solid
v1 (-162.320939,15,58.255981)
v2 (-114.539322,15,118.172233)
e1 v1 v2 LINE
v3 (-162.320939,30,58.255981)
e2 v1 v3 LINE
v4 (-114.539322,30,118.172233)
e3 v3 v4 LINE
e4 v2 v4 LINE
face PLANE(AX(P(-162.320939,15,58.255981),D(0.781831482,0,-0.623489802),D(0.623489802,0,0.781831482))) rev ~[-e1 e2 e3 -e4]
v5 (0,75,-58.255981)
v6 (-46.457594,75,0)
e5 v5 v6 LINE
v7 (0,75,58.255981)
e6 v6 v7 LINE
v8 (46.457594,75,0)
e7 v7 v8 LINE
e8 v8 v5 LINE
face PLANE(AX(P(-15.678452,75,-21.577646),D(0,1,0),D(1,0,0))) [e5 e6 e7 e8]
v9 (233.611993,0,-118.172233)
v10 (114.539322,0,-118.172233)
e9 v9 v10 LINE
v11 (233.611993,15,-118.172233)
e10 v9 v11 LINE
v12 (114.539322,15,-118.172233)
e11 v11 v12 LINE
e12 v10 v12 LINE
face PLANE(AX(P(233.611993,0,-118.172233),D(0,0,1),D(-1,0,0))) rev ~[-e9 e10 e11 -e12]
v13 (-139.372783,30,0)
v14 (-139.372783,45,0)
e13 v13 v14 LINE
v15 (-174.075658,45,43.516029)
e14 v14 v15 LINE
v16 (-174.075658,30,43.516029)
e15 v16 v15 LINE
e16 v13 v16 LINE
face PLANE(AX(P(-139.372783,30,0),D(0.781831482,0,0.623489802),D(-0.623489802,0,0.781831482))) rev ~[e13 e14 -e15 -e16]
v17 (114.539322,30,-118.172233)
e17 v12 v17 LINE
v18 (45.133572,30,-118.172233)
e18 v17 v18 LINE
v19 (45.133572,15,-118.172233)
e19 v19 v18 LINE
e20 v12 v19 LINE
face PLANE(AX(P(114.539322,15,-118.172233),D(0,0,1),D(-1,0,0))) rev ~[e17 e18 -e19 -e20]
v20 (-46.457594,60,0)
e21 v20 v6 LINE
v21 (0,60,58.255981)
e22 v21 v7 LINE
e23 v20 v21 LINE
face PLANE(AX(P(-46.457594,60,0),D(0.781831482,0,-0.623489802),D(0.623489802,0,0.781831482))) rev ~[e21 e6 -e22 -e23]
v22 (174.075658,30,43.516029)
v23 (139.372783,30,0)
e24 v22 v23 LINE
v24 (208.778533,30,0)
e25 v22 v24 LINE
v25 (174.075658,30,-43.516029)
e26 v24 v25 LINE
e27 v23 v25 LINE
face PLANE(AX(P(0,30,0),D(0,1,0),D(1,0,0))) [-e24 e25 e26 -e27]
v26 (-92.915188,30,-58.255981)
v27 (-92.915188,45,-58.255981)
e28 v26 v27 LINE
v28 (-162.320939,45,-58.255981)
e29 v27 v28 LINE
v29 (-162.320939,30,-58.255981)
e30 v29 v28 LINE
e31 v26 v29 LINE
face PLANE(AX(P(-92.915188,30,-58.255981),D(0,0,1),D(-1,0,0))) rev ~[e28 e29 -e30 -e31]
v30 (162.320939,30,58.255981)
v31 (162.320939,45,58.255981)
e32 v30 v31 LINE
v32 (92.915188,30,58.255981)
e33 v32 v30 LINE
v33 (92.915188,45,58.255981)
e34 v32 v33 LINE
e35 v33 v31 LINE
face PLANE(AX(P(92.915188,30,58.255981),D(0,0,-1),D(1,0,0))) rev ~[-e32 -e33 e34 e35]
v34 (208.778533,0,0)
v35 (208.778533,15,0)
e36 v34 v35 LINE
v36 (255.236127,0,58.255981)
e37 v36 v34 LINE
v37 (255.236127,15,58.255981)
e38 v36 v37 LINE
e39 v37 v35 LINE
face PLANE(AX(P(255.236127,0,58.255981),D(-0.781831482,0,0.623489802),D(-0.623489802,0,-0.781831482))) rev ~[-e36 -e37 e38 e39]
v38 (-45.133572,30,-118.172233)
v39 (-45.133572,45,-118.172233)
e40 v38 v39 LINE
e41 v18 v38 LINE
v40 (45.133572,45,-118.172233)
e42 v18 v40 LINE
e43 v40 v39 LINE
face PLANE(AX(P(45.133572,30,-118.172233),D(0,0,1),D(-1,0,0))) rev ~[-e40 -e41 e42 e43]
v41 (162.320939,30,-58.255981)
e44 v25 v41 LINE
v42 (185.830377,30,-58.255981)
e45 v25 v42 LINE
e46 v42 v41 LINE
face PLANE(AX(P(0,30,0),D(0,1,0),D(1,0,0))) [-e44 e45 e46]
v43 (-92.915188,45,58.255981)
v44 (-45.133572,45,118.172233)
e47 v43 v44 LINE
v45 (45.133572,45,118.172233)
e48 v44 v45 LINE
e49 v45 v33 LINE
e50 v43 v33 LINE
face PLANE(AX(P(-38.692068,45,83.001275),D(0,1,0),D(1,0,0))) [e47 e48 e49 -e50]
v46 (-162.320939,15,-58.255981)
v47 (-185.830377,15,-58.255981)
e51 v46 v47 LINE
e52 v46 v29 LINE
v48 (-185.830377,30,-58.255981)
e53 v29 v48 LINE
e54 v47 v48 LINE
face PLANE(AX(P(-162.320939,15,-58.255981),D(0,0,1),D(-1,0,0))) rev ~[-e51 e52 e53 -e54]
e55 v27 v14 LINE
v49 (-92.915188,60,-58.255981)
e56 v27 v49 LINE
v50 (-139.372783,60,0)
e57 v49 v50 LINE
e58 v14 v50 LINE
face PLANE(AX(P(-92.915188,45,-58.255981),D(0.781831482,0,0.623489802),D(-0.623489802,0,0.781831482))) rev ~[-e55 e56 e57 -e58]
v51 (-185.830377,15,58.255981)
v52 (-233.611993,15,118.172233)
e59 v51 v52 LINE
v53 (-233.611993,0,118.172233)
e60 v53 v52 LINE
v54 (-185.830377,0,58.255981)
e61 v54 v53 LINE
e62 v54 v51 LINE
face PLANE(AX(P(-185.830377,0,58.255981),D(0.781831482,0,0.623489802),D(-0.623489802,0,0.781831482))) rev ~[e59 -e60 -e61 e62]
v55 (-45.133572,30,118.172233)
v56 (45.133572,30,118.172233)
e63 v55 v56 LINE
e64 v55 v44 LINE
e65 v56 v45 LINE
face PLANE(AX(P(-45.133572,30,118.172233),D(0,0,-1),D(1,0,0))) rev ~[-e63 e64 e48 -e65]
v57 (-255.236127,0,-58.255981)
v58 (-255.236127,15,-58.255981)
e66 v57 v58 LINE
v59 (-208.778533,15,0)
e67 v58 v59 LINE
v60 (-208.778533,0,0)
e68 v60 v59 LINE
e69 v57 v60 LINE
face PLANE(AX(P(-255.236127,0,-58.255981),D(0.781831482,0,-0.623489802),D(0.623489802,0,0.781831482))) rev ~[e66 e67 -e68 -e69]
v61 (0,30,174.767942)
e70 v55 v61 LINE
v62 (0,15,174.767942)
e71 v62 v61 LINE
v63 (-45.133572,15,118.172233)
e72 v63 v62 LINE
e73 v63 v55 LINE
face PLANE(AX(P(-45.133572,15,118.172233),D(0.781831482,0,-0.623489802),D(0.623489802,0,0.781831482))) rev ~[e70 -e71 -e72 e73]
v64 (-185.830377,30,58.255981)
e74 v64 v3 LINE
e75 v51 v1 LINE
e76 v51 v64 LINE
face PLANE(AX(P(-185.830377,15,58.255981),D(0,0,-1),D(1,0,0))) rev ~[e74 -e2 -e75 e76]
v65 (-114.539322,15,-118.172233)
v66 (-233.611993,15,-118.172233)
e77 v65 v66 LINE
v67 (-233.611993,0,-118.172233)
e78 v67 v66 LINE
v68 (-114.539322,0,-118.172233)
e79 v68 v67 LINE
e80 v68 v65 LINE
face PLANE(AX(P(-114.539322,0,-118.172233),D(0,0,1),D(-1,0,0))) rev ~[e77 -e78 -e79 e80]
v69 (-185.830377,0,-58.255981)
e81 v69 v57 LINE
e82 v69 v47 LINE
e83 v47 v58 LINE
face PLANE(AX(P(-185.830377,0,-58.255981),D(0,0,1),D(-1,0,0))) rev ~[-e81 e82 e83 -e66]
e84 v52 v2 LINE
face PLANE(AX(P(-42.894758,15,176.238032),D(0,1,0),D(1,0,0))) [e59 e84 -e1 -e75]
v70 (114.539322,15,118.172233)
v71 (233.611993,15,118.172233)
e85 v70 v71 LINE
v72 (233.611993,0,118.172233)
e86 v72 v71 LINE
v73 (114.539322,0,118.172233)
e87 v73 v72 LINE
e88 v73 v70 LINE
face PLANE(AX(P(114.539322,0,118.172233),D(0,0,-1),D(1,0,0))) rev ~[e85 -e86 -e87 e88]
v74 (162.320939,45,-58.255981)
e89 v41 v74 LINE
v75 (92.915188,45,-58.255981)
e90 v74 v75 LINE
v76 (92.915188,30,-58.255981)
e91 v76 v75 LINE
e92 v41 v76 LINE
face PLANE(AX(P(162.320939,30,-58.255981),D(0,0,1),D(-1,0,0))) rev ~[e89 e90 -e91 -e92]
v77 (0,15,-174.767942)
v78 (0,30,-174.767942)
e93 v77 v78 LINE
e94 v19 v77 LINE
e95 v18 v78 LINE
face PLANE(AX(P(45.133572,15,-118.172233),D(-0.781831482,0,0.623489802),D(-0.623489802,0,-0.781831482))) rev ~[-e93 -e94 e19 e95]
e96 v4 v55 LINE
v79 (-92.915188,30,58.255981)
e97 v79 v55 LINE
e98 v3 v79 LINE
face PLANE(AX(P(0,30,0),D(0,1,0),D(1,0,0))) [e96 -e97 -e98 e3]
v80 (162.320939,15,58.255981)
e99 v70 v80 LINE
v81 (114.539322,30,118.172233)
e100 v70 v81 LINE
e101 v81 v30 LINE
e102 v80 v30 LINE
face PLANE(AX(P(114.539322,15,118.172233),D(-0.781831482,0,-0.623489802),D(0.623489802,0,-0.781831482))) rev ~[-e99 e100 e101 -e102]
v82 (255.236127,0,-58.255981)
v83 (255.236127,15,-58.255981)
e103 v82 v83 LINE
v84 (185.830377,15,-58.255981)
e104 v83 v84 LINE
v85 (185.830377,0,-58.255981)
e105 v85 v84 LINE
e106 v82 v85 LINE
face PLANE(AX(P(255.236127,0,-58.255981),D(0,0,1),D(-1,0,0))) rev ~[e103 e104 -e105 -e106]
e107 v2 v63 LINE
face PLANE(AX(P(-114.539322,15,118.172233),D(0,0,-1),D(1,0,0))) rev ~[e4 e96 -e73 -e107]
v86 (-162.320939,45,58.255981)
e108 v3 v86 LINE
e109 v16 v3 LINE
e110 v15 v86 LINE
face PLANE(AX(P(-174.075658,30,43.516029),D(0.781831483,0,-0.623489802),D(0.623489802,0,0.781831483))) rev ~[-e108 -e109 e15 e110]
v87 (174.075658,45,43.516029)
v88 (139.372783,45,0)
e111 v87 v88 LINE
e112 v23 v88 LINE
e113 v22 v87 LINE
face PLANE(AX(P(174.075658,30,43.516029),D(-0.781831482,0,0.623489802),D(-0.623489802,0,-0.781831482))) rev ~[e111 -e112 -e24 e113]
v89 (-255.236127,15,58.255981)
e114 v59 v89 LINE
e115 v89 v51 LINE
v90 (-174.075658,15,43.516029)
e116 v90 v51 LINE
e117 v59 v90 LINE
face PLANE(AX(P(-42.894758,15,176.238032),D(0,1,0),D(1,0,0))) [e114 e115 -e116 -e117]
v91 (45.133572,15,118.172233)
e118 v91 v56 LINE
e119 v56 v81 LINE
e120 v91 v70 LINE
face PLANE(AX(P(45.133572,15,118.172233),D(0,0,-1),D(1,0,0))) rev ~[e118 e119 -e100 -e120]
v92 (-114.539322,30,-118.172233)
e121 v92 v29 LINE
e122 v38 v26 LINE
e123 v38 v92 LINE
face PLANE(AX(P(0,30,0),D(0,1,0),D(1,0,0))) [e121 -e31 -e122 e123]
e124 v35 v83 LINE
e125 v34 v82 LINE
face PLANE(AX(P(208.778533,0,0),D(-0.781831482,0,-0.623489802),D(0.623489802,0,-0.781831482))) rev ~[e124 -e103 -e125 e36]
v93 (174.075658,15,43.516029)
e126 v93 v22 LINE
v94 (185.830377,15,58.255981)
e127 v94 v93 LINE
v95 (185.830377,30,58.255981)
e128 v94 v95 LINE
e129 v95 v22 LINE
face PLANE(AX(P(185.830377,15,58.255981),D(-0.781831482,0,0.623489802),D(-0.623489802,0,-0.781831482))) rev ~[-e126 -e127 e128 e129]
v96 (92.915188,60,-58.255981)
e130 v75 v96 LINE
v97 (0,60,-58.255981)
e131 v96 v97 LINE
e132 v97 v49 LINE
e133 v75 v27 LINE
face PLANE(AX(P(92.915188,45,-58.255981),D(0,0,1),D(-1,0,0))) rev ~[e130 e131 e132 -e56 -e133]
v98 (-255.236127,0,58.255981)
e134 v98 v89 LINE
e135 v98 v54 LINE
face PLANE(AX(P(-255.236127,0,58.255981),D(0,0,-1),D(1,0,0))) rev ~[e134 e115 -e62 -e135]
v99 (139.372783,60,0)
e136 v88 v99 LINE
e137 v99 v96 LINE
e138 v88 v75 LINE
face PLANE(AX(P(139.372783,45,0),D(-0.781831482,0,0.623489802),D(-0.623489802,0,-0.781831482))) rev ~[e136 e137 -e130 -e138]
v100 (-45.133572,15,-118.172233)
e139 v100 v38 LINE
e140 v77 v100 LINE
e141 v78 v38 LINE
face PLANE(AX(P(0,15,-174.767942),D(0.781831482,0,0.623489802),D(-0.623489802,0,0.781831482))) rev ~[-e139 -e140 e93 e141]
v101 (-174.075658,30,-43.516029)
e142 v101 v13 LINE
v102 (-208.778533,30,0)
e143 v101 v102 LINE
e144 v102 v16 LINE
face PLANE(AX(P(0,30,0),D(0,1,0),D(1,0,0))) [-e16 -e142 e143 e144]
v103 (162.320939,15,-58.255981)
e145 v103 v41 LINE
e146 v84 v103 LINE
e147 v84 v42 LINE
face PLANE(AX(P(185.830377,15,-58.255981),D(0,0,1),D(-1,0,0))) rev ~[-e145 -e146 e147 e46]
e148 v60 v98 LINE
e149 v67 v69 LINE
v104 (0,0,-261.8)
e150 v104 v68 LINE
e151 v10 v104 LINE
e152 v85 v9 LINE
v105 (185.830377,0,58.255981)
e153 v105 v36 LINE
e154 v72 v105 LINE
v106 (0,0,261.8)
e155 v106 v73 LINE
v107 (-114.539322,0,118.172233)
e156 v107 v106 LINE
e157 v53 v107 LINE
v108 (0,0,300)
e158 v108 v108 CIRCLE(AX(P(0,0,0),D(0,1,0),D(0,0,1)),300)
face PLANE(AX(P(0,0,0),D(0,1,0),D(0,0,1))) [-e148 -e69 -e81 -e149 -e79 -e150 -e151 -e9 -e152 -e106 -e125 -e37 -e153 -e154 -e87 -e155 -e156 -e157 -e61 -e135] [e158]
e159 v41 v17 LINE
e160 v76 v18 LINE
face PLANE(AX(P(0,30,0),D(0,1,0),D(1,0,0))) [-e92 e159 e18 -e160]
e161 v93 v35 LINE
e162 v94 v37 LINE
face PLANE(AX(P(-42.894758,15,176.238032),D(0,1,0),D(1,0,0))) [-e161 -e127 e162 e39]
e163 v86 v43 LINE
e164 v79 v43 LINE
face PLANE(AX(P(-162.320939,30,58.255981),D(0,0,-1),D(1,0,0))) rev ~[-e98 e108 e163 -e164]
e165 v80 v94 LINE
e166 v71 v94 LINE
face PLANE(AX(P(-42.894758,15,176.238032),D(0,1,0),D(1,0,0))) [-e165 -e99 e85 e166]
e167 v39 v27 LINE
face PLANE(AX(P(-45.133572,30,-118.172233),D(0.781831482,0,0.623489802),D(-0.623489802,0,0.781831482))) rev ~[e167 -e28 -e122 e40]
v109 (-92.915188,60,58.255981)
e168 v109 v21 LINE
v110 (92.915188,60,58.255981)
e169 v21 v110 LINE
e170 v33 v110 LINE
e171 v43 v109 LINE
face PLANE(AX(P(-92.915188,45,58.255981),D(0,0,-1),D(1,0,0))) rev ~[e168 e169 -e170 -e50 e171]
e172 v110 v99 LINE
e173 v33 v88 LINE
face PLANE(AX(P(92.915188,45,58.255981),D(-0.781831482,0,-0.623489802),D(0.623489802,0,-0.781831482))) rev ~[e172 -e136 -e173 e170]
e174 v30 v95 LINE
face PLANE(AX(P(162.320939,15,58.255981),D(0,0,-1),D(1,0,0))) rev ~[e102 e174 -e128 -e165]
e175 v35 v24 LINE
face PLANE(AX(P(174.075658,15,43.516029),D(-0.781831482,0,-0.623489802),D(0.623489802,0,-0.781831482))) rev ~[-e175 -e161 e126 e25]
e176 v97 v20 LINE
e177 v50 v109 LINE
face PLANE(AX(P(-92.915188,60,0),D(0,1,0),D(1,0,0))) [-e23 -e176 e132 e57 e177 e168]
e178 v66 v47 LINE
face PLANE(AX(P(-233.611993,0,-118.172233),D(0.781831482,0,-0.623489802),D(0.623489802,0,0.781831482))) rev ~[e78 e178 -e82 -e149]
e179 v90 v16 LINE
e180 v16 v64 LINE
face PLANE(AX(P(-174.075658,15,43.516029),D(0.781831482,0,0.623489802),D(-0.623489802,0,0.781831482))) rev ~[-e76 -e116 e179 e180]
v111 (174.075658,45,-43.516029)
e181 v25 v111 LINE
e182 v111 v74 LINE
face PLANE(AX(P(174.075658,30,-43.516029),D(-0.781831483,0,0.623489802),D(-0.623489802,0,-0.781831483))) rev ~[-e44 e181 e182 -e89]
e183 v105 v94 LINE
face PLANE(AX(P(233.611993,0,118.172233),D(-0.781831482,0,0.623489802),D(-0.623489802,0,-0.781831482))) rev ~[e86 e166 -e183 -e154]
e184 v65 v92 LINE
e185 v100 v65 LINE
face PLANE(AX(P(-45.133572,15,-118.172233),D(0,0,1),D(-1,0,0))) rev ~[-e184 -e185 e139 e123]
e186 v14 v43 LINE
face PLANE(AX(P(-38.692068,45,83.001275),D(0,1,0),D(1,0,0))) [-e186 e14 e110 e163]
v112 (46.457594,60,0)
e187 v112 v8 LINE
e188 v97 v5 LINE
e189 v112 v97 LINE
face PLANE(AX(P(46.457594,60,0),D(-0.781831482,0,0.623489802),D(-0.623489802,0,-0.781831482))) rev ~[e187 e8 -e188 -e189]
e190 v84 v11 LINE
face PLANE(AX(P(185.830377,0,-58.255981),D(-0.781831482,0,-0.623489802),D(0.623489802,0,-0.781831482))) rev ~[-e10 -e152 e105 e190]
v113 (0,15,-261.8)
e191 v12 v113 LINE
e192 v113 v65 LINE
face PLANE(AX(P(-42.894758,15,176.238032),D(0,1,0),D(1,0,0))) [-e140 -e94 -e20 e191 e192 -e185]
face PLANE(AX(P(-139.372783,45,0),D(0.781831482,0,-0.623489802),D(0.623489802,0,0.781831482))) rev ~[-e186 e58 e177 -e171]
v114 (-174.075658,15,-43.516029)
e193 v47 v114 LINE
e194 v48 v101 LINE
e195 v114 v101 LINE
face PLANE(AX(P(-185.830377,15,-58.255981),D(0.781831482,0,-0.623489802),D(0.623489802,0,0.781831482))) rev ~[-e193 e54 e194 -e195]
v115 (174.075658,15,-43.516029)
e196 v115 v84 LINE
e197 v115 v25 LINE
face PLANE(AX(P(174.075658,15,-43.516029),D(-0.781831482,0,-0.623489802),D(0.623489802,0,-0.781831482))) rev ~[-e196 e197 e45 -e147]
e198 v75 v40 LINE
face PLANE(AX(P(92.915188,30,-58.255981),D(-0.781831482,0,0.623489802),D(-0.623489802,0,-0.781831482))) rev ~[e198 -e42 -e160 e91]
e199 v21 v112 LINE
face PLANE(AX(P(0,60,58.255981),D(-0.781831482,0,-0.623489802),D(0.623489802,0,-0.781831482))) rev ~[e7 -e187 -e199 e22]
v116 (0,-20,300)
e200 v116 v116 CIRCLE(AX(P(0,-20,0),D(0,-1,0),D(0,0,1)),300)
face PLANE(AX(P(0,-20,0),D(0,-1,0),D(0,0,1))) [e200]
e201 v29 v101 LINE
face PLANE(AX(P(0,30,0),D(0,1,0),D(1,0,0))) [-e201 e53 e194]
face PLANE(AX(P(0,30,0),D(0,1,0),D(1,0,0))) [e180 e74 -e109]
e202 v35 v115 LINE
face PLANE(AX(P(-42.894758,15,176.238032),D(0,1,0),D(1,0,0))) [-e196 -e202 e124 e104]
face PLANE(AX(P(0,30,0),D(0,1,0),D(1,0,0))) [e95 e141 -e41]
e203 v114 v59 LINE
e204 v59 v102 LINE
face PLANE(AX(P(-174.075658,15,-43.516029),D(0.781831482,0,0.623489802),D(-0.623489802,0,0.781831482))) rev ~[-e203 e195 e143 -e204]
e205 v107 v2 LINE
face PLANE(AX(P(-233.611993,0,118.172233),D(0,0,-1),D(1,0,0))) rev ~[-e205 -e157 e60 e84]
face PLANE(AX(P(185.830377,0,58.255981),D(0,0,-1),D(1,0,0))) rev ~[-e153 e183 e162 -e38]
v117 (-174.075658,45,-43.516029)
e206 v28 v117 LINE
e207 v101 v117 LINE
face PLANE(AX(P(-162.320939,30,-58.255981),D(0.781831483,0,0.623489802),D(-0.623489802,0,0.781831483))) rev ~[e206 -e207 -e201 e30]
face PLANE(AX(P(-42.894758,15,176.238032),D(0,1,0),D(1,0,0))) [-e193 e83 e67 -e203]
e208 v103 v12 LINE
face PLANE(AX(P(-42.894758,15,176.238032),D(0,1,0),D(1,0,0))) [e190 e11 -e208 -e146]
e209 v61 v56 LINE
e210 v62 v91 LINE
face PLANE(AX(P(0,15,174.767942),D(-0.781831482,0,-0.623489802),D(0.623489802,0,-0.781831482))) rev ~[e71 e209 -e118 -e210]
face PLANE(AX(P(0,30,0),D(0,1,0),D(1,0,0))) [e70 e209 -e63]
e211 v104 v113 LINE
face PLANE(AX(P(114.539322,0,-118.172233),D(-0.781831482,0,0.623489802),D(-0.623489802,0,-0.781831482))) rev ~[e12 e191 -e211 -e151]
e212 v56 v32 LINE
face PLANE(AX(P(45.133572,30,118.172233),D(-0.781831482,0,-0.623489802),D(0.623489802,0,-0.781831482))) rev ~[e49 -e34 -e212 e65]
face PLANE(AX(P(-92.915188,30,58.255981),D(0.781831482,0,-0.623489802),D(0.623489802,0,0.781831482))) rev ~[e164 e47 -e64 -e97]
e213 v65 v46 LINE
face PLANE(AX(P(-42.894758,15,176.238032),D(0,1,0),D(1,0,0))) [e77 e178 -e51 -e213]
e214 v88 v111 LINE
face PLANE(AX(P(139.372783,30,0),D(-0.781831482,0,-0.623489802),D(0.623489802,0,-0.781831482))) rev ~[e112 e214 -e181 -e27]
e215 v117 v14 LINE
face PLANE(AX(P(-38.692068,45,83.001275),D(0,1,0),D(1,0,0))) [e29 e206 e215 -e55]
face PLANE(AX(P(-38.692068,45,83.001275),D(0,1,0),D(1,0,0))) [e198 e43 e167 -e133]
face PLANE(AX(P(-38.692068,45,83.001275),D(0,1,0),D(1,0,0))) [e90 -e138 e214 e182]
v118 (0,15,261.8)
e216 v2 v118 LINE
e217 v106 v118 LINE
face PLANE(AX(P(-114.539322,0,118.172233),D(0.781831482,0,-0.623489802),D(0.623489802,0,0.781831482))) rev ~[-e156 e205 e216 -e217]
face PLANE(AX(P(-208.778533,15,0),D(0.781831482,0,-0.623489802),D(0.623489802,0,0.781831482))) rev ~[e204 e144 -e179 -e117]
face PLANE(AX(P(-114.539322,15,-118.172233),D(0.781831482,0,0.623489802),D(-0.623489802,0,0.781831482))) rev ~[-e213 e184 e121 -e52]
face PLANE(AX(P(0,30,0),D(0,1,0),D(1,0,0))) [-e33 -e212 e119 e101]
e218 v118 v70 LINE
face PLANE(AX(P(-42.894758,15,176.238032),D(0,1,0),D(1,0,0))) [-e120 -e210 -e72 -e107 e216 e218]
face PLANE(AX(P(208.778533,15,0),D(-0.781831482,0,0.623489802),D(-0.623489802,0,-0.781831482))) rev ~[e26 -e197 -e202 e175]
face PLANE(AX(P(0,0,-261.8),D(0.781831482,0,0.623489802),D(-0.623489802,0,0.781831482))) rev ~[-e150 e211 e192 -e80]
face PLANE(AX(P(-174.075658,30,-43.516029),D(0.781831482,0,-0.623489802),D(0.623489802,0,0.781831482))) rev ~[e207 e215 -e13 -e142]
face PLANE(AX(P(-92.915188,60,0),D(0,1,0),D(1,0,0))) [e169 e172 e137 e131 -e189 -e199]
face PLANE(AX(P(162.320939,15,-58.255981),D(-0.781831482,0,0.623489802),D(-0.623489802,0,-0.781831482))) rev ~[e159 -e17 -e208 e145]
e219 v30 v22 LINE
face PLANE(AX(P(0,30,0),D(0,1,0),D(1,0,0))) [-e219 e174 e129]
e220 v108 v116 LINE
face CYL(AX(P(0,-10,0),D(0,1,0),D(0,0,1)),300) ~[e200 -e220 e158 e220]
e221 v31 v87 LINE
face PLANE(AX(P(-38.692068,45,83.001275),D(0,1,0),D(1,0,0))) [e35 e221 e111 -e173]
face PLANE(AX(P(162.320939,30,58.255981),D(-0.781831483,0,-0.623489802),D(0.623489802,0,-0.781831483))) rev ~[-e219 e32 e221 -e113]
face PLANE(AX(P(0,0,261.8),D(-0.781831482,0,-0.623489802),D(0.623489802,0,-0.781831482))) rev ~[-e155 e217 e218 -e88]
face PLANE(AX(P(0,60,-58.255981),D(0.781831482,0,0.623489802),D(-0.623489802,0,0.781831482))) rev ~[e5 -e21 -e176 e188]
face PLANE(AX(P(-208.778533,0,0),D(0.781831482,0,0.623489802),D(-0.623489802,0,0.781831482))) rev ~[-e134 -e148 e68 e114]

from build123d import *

# Parameters (mm, degrees)
SKETCH1_R            = 300
BOSS_EXTRUDE1_DEPTH  = 10
SKETCH2_R            = 300
BOSS_EXTRUDE2_DEPTH  = 10
BOSS_EXTRUDE4_DEPTH  = 15
BOSS_EXTRUDE5_DEPTH  = 15
BOSS_EXTRUDE11_DEPTH = 15
BOSS_EXTRUDE12_DEPTH = 15
BOSS_EXTRUDE13_DEPTH = 15


with BuildPart() as part:
    # Sketch1 → Boss-Extrude1 (new body)
    with BuildSketch(Plane(origin=(0, 0, 0), x_dir=(1, 0, 0), z_dir=(0, 1, 0))):
        with Locations(Location((0, 0, 0), (0, 0, 270))):
            Circle(SKETCH1_R)
    extrude(amount=-BOSS_EXTRUDE1_DEPTH)

    # Sketch2 → Boss-Extrude2 (add)
    with BuildSketch(Plane.XZ.offset(10)):
        with Locations(Location((0, 0, 0), (0, 0, 90))):
            Circle(SKETCH2_R)
    extrude(amount=BOSS_EXTRUDE2_DEPTH)

    # Sketch3 → Boss-Extrude4 (add)
    with BuildSketch(Plane(origin=(0, 0, 0), x_dir=(1, 0, 0), z_dir=(0, 1, 0))):
        Polygon((-45.133571821, -118.172232568), (-114.539322431, -118.172232568), (0, -261.8), (0, -174.767941529), align=None)
        Polygon((0, -174.767941529), (0, -261.8), (114.539322431, -118.172232568), (45.133571821, -118.172232568), align=None)
        Polygon((233.611993377, -118.172232568), (185.830376799, -58.25598051), (162.32093901, -58.25598051), (114.539322431, -118.172232568), align=None)
        Polygon((255.236127409, -58.25598051), (208.778533209, 0), (174.075657904, -43.516029235), (185.830376799, -58.25598051), align=None)
        Polygon((255.236127409, 58.25598051), (185.830376799, 58.25598051), (174.075657904, 43.516029235), (208.778533209, 0), align=None)
        Polygon((233.611993377, 118.172232568), (114.539322431, 118.172232568), (162.32093901, 58.25598051), (185.830376799, 58.25598051), align=None)
        Polygon((114.539322431, 118.172232568), (0, 261.8), (0, 174.767941529), (45.133571821, 118.172232568), align=None)
        Polygon((0, 174.767941529), (0, 261.8), (-114.539322431, 118.172232568), (-45.133571821, 118.172232568), align=None)
        Polygon((-162.32093901, 58.25598051), (-114.539322431, 118.172232568), (-233.611993377, 118.172232568), (-185.830376799, 58.25598051), align=None)
        Polygon((-174.075657904, 43.516029235), (-185.830376799, 58.25598051), (-255.236127409, 58.25598051), (-208.778533209, 0), align=None)
        Polygon((-174.075657904, -43.516029235), (-208.778533209, 0), (-255.236127409, -58.25598051), (-185.830376799, -58.25598051), align=None)
        Polygon((-162.32093901, -58.25598051), (-185.830376799, -58.25598051), (-233.611993377, -118.172232568), (-114.539322431, -118.172232568), align=None)
        Polygon((-174.075657904, 43.516029235), (-162.32093901, 58.25598051), (-185.830376799, 58.25598051), align=None)
        Polygon((-139.372782599, 0), (-174.075657904, 43.516029235), (-208.778533209, 0), (-174.075657904, -43.516029235), align=None)
        Polygon((-162.32093901, -58.25598051), (-174.075657904, -43.516029235), (-185.830376799, -58.25598051), align=None)
        Polygon((-92.9151884, -58.25598051), (-139.372782599, 0), (-174.075657904, -43.516029235), (-162.32093901, -58.25598051), align=None)
        Polygon((-45.133571821, -118.172232568), (-92.9151884, -58.25598051), (-162.32093901, -58.25598051), (-114.539322431, -118.172232568), align=None)
        Polygon((0, -174.767941529), (0, -118.172232568), (-45.133571821, -118.172232568), align=None)
        Polygon((45.133571821, -118.172232568), (0, -118.172232568), (0, -174.767941529), align=None)
        Polygon((162.32093901, -58.25598051), (92.9151884, -58.25598051), (45.133571821, -118.172232568), (114.539322431, -118.172232568), align=None)
        Polygon((174.075657904, -43.516029235), (139.372782599, 0), (92.9151884, -58.25598051), (162.32093901, -58.25598051), align=None)
        Polygon((185.830376799, -58.25598051), (174.075657904, -43.516029235), (162.32093901, -58.25598051), align=None)
        Polygon((208.778533209, 0), (174.075657904, 43.516029235), (139.372782599, 0), (174.075657904, -43.516029235), align=None)
        Polygon((174.075657904, 43.516029235), (162.32093901, 58.25598051), (92.9151884, 58.25598051), (139.372782599, 0), align=None)
        Polygon((185.830376799, 58.25598051), (162.32093901, 58.25598051), (174.075657904, 43.516029235), align=None)
        Polygon((162.32093901, 58.25598051), (114.539322431, 118.172232568), (45.133571821, 118.172232568), (92.9151884, 58.25598051), align=None)
        Polygon((45.133571821, 118.172232568), (0, 174.767941529), (0, 118.172232568), align=None)
        Polygon((0, 118.172232568), (0, 174.767941529), (-45.133571821, 118.172232568), align=None)
        Polygon((-45.133571821, 118.172232568), (-114.539322431, 118.172232568), (-162.32093901, 58.25598051), (-92.9151884, 58.25598051), align=None)
        Polygon((-92.9151884, 58.25598051), (-162.32093901, 58.25598051), (-174.075657904, 43.516029235), (-139.372782599, 0), align=None)
        Polygon((-46.4575942, 0), (-92.9151884, 58.25598051), (-139.372782599, 0), (-92.9151884, -58.25598051), align=None)
        Polygon((-46.4575942, 0), (0, 58.25598051), (-92.9151884, 58.25598051), align=None)
        Polygon((0, 58.25598051), (0, 118.172232568), (-45.133571821, 118.172232568), (-92.9151884, 58.25598051), align=None)
        Polygon((45.133571821, 118.172232568), (0, 118.172232568), (0, 58.25598051), (92.9151884, 58.25598051), align=None)
        Polygon((92.9151884, 58.25598051), (0, 58.25598051), (46.4575942, 0), align=None)
        Polygon((139.372782599, 0), (92.9151884, 58.25598051), (46.4575942, 0), (92.9151884, -58.25598051), align=None)
        Polygon((92.9151884, -58.25598051), (46.4575942, 0), (0, -58.25598051), align=None)
        Polygon((46.4575942, 0), (0, 0), (0, -58.25598051), align=None)
        Polygon((46.4575942, 0), (0, 58.25598051), (0, 0), align=None)
        Polygon((0, 0), (0, 58.25598051), (-46.4575942, 0), align=None)
        Polygon((0, -58.25598051), (0, 0), (-46.4575942, 0), align=None)
        Polygon((0, -58.25598051), (-46.4575942, 0), (-92.9151884, -58.25598051), align=None)
        Polygon((0, -118.172232568), (0, -58.25598051), (-92.9151884, -58.25598051), (-45.133571821, -118.172232568), align=None)
        Polygon((92.9151884, -58.25598051), (0, -58.25598051), (0, -118.172232568), (45.133571821, -118.172232568), align=None)
    extrude(amount=BOSS_EXTRUDE4_DEPTH)

    # Sketch4 → Boss-Extrude5 (add)
    with BuildSketch(Plane(origin=(0, 15, 0), x_dir=(1, 0, 0), z_dir=(0, 1, 0))):
        Polygon((45.133571821, 118.172232568), (0, 174.767941529), (-45.133571821, 118.172232568), (-114.539322431, 118.172232568), (-162.32093901, 58.25598051), (-185.830376799, 58.25598051), (-174.075657904, 43.516029235), (-208.778533209, 0), (-174.075657904, -43.516029235), (-185.830376799, -58.25598051), (-162.32093901, -58.25598051), (-114.539322431, -118.172232568), (-45.133571821, -118.172232568), (0, -174.767941529), (45.133571821, -118.172232568), (114.539322431, -118.172232568), (162.32093901, -58.25598051), (185.830376799, -58.25598051), (174.075657904, -43.516029235), (208.778533209, 0), (174.075657904, 43.516029235), (185.830376799, 58.25598051), (162.32093901, 58.25598051), (114.539322431, 118.172232568), align=None)
    extrude(amount=BOSS_EXTRUDE5_DEPTH)

    # Sketch6 → Boss-Extrude11 (add)
    with BuildSketch(Plane(origin=(0, 30, 0), x_dir=(1, 0, 0), z_dir=(0, 1, 0))):
        Polygon((0, -118.172232568), (0, -58.25598051), (-92.9151884, -58.25598051), (-45.133571821, -118.172232568), align=None)
        Polygon((92.9151884, -58.25598051), (0, -58.25598051), (0, -118.172232568), (45.133571821, -118.172232568), align=None)
        Polygon((174.075657904, -43.516029235), (139.372782599, 0), (92.9151884, -58.25598051), (162.32093901, -58.25598051), align=None)
        Polygon((139.372782599, 0), (92.9151884, 58.25598051), (46.4575942, 0), (92.9151884, -58.25598051), align=None)
        Polygon((174.075657904, 43.516029235), (162.32093901, 58.25598051), (92.9151884, 58.25598051), (139.372782599, 0), align=None)
        Polygon((45.133571821, 118.172232568), (0, 118.172232568), (0, 58.25598051), (92.9151884, 58.25598051), align=None)
        Polygon((0, 58.25598051), (0, 118.172232568), (-45.133571821, 118.172232568), (-92.9151884, 58.25598051), align=None)
        Polygon((-46.4575942, 0), (-92.9151884, 58.25598051), (-139.372782599, 0), (-92.9151884, -58.25598051), align=None)
        Polygon((-92.9151884, 58.25598051), (-162.32093901, 58.25598051), (-174.075657904, 43.516029235), (-139.372782599, 0), align=None)
        Polygon((-92.9151884, -58.25598051), (-139.372782599, 0), (-174.075657904, -43.516029235), (-162.32093901, -58.25598051), align=None)
        Polygon((0, -58.25598051), (-46.4575942, 0), (-92.9151884, -58.25598051), align=None)
        Polygon((92.9151884, -58.25598051), (46.4575942, 0), (0, -58.25598051), align=None)
        Polygon((46.4575942, 0), (0, 0), (0, -58.25598051), align=None)
        Polygon((0, -58.25598051), (0, 0), (-46.4575942, 0), align=None)
        Polygon((0, 0), (0, 58.25598051), (-46.4575942, 0), align=None)
        Polygon((46.4575942, 0), (0, 58.25598051), (0, 0), align=None)
        Polygon((92.9151884, 58.25598051), (0, 58.25598051), (46.4575942, 0), align=None)
        Polygon((-46.4575942, 0), (0, 58.25598051), (-92.9151884, 58.25598051), align=None)
    extrude(amount=BOSS_EXTRUDE11_DEPTH)

    # Sketch10 → Boss-Extrude12 (add)
    with BuildSketch(Plane(origin=(0, 45, 0), x_dir=(1, 0, 0), z_dir=(0, 1, 0))):
        Polygon((-46.4575942, 0), (-92.9151884, 58.25598051), (-139.372782599, 0), (-92.9151884, -58.25598051), align=None)
        Polygon((-46.4575942, 0), (0, 58.25598051), (-92.9151884, 58.25598051), align=None)
        Polygon((92.9151884, 58.25598051), (0, 58.25598051), (46.4575942, 0), align=None)
        Polygon((139.372782599, 0), (92.9151884, 58.25598051), (46.4575942, 0), (92.9151884, -58.25598051), align=None)
        Polygon((92.9151884, -58.25598051), (46.4575942, 0), (0, -58.25598051), align=None)
        Polygon((46.4575942, 0), (0, 58.25598051), (0, 0), align=None)
        Polygon((0, 0), (0, 58.25598051), (-46.4575942, 0), align=None)
        Polygon((0, -58.25598051), (0, 0), (-46.4575942, 0), align=None)
        Polygon((46.4575942, 0), (0, 0), (0, -58.25598051), align=None)
        Polygon((0, -58.25598051), (-46.4575942, 0), (-92.9151884, -58.25598051), align=None)
    extrude(amount=BOSS_EXTRUDE12_DEPTH)

    # Sketch11 → Boss-Extrude13 (add)
    with BuildSketch(Plane(origin=(0, 60, 0), x_dir=(1, 0, 0), z_dir=(0, 1, 0))):
        Polygon((0, 0), (0, 58.25598051), (-46.4575942, 0), align=None)
        Polygon((46.4575942, 0), (0, 58.25598051), (0, 0), align=None)
        Polygon((46.4575942, 0), (0, 0), (0, -58.25598051), align=None)
        Polygon((0, -58.25598051), (0, 0), (-46.4575942, 0), align=None)
    extrude(amount=BOSS_EXTRUDE13_DEPTH)


solid = part.part
